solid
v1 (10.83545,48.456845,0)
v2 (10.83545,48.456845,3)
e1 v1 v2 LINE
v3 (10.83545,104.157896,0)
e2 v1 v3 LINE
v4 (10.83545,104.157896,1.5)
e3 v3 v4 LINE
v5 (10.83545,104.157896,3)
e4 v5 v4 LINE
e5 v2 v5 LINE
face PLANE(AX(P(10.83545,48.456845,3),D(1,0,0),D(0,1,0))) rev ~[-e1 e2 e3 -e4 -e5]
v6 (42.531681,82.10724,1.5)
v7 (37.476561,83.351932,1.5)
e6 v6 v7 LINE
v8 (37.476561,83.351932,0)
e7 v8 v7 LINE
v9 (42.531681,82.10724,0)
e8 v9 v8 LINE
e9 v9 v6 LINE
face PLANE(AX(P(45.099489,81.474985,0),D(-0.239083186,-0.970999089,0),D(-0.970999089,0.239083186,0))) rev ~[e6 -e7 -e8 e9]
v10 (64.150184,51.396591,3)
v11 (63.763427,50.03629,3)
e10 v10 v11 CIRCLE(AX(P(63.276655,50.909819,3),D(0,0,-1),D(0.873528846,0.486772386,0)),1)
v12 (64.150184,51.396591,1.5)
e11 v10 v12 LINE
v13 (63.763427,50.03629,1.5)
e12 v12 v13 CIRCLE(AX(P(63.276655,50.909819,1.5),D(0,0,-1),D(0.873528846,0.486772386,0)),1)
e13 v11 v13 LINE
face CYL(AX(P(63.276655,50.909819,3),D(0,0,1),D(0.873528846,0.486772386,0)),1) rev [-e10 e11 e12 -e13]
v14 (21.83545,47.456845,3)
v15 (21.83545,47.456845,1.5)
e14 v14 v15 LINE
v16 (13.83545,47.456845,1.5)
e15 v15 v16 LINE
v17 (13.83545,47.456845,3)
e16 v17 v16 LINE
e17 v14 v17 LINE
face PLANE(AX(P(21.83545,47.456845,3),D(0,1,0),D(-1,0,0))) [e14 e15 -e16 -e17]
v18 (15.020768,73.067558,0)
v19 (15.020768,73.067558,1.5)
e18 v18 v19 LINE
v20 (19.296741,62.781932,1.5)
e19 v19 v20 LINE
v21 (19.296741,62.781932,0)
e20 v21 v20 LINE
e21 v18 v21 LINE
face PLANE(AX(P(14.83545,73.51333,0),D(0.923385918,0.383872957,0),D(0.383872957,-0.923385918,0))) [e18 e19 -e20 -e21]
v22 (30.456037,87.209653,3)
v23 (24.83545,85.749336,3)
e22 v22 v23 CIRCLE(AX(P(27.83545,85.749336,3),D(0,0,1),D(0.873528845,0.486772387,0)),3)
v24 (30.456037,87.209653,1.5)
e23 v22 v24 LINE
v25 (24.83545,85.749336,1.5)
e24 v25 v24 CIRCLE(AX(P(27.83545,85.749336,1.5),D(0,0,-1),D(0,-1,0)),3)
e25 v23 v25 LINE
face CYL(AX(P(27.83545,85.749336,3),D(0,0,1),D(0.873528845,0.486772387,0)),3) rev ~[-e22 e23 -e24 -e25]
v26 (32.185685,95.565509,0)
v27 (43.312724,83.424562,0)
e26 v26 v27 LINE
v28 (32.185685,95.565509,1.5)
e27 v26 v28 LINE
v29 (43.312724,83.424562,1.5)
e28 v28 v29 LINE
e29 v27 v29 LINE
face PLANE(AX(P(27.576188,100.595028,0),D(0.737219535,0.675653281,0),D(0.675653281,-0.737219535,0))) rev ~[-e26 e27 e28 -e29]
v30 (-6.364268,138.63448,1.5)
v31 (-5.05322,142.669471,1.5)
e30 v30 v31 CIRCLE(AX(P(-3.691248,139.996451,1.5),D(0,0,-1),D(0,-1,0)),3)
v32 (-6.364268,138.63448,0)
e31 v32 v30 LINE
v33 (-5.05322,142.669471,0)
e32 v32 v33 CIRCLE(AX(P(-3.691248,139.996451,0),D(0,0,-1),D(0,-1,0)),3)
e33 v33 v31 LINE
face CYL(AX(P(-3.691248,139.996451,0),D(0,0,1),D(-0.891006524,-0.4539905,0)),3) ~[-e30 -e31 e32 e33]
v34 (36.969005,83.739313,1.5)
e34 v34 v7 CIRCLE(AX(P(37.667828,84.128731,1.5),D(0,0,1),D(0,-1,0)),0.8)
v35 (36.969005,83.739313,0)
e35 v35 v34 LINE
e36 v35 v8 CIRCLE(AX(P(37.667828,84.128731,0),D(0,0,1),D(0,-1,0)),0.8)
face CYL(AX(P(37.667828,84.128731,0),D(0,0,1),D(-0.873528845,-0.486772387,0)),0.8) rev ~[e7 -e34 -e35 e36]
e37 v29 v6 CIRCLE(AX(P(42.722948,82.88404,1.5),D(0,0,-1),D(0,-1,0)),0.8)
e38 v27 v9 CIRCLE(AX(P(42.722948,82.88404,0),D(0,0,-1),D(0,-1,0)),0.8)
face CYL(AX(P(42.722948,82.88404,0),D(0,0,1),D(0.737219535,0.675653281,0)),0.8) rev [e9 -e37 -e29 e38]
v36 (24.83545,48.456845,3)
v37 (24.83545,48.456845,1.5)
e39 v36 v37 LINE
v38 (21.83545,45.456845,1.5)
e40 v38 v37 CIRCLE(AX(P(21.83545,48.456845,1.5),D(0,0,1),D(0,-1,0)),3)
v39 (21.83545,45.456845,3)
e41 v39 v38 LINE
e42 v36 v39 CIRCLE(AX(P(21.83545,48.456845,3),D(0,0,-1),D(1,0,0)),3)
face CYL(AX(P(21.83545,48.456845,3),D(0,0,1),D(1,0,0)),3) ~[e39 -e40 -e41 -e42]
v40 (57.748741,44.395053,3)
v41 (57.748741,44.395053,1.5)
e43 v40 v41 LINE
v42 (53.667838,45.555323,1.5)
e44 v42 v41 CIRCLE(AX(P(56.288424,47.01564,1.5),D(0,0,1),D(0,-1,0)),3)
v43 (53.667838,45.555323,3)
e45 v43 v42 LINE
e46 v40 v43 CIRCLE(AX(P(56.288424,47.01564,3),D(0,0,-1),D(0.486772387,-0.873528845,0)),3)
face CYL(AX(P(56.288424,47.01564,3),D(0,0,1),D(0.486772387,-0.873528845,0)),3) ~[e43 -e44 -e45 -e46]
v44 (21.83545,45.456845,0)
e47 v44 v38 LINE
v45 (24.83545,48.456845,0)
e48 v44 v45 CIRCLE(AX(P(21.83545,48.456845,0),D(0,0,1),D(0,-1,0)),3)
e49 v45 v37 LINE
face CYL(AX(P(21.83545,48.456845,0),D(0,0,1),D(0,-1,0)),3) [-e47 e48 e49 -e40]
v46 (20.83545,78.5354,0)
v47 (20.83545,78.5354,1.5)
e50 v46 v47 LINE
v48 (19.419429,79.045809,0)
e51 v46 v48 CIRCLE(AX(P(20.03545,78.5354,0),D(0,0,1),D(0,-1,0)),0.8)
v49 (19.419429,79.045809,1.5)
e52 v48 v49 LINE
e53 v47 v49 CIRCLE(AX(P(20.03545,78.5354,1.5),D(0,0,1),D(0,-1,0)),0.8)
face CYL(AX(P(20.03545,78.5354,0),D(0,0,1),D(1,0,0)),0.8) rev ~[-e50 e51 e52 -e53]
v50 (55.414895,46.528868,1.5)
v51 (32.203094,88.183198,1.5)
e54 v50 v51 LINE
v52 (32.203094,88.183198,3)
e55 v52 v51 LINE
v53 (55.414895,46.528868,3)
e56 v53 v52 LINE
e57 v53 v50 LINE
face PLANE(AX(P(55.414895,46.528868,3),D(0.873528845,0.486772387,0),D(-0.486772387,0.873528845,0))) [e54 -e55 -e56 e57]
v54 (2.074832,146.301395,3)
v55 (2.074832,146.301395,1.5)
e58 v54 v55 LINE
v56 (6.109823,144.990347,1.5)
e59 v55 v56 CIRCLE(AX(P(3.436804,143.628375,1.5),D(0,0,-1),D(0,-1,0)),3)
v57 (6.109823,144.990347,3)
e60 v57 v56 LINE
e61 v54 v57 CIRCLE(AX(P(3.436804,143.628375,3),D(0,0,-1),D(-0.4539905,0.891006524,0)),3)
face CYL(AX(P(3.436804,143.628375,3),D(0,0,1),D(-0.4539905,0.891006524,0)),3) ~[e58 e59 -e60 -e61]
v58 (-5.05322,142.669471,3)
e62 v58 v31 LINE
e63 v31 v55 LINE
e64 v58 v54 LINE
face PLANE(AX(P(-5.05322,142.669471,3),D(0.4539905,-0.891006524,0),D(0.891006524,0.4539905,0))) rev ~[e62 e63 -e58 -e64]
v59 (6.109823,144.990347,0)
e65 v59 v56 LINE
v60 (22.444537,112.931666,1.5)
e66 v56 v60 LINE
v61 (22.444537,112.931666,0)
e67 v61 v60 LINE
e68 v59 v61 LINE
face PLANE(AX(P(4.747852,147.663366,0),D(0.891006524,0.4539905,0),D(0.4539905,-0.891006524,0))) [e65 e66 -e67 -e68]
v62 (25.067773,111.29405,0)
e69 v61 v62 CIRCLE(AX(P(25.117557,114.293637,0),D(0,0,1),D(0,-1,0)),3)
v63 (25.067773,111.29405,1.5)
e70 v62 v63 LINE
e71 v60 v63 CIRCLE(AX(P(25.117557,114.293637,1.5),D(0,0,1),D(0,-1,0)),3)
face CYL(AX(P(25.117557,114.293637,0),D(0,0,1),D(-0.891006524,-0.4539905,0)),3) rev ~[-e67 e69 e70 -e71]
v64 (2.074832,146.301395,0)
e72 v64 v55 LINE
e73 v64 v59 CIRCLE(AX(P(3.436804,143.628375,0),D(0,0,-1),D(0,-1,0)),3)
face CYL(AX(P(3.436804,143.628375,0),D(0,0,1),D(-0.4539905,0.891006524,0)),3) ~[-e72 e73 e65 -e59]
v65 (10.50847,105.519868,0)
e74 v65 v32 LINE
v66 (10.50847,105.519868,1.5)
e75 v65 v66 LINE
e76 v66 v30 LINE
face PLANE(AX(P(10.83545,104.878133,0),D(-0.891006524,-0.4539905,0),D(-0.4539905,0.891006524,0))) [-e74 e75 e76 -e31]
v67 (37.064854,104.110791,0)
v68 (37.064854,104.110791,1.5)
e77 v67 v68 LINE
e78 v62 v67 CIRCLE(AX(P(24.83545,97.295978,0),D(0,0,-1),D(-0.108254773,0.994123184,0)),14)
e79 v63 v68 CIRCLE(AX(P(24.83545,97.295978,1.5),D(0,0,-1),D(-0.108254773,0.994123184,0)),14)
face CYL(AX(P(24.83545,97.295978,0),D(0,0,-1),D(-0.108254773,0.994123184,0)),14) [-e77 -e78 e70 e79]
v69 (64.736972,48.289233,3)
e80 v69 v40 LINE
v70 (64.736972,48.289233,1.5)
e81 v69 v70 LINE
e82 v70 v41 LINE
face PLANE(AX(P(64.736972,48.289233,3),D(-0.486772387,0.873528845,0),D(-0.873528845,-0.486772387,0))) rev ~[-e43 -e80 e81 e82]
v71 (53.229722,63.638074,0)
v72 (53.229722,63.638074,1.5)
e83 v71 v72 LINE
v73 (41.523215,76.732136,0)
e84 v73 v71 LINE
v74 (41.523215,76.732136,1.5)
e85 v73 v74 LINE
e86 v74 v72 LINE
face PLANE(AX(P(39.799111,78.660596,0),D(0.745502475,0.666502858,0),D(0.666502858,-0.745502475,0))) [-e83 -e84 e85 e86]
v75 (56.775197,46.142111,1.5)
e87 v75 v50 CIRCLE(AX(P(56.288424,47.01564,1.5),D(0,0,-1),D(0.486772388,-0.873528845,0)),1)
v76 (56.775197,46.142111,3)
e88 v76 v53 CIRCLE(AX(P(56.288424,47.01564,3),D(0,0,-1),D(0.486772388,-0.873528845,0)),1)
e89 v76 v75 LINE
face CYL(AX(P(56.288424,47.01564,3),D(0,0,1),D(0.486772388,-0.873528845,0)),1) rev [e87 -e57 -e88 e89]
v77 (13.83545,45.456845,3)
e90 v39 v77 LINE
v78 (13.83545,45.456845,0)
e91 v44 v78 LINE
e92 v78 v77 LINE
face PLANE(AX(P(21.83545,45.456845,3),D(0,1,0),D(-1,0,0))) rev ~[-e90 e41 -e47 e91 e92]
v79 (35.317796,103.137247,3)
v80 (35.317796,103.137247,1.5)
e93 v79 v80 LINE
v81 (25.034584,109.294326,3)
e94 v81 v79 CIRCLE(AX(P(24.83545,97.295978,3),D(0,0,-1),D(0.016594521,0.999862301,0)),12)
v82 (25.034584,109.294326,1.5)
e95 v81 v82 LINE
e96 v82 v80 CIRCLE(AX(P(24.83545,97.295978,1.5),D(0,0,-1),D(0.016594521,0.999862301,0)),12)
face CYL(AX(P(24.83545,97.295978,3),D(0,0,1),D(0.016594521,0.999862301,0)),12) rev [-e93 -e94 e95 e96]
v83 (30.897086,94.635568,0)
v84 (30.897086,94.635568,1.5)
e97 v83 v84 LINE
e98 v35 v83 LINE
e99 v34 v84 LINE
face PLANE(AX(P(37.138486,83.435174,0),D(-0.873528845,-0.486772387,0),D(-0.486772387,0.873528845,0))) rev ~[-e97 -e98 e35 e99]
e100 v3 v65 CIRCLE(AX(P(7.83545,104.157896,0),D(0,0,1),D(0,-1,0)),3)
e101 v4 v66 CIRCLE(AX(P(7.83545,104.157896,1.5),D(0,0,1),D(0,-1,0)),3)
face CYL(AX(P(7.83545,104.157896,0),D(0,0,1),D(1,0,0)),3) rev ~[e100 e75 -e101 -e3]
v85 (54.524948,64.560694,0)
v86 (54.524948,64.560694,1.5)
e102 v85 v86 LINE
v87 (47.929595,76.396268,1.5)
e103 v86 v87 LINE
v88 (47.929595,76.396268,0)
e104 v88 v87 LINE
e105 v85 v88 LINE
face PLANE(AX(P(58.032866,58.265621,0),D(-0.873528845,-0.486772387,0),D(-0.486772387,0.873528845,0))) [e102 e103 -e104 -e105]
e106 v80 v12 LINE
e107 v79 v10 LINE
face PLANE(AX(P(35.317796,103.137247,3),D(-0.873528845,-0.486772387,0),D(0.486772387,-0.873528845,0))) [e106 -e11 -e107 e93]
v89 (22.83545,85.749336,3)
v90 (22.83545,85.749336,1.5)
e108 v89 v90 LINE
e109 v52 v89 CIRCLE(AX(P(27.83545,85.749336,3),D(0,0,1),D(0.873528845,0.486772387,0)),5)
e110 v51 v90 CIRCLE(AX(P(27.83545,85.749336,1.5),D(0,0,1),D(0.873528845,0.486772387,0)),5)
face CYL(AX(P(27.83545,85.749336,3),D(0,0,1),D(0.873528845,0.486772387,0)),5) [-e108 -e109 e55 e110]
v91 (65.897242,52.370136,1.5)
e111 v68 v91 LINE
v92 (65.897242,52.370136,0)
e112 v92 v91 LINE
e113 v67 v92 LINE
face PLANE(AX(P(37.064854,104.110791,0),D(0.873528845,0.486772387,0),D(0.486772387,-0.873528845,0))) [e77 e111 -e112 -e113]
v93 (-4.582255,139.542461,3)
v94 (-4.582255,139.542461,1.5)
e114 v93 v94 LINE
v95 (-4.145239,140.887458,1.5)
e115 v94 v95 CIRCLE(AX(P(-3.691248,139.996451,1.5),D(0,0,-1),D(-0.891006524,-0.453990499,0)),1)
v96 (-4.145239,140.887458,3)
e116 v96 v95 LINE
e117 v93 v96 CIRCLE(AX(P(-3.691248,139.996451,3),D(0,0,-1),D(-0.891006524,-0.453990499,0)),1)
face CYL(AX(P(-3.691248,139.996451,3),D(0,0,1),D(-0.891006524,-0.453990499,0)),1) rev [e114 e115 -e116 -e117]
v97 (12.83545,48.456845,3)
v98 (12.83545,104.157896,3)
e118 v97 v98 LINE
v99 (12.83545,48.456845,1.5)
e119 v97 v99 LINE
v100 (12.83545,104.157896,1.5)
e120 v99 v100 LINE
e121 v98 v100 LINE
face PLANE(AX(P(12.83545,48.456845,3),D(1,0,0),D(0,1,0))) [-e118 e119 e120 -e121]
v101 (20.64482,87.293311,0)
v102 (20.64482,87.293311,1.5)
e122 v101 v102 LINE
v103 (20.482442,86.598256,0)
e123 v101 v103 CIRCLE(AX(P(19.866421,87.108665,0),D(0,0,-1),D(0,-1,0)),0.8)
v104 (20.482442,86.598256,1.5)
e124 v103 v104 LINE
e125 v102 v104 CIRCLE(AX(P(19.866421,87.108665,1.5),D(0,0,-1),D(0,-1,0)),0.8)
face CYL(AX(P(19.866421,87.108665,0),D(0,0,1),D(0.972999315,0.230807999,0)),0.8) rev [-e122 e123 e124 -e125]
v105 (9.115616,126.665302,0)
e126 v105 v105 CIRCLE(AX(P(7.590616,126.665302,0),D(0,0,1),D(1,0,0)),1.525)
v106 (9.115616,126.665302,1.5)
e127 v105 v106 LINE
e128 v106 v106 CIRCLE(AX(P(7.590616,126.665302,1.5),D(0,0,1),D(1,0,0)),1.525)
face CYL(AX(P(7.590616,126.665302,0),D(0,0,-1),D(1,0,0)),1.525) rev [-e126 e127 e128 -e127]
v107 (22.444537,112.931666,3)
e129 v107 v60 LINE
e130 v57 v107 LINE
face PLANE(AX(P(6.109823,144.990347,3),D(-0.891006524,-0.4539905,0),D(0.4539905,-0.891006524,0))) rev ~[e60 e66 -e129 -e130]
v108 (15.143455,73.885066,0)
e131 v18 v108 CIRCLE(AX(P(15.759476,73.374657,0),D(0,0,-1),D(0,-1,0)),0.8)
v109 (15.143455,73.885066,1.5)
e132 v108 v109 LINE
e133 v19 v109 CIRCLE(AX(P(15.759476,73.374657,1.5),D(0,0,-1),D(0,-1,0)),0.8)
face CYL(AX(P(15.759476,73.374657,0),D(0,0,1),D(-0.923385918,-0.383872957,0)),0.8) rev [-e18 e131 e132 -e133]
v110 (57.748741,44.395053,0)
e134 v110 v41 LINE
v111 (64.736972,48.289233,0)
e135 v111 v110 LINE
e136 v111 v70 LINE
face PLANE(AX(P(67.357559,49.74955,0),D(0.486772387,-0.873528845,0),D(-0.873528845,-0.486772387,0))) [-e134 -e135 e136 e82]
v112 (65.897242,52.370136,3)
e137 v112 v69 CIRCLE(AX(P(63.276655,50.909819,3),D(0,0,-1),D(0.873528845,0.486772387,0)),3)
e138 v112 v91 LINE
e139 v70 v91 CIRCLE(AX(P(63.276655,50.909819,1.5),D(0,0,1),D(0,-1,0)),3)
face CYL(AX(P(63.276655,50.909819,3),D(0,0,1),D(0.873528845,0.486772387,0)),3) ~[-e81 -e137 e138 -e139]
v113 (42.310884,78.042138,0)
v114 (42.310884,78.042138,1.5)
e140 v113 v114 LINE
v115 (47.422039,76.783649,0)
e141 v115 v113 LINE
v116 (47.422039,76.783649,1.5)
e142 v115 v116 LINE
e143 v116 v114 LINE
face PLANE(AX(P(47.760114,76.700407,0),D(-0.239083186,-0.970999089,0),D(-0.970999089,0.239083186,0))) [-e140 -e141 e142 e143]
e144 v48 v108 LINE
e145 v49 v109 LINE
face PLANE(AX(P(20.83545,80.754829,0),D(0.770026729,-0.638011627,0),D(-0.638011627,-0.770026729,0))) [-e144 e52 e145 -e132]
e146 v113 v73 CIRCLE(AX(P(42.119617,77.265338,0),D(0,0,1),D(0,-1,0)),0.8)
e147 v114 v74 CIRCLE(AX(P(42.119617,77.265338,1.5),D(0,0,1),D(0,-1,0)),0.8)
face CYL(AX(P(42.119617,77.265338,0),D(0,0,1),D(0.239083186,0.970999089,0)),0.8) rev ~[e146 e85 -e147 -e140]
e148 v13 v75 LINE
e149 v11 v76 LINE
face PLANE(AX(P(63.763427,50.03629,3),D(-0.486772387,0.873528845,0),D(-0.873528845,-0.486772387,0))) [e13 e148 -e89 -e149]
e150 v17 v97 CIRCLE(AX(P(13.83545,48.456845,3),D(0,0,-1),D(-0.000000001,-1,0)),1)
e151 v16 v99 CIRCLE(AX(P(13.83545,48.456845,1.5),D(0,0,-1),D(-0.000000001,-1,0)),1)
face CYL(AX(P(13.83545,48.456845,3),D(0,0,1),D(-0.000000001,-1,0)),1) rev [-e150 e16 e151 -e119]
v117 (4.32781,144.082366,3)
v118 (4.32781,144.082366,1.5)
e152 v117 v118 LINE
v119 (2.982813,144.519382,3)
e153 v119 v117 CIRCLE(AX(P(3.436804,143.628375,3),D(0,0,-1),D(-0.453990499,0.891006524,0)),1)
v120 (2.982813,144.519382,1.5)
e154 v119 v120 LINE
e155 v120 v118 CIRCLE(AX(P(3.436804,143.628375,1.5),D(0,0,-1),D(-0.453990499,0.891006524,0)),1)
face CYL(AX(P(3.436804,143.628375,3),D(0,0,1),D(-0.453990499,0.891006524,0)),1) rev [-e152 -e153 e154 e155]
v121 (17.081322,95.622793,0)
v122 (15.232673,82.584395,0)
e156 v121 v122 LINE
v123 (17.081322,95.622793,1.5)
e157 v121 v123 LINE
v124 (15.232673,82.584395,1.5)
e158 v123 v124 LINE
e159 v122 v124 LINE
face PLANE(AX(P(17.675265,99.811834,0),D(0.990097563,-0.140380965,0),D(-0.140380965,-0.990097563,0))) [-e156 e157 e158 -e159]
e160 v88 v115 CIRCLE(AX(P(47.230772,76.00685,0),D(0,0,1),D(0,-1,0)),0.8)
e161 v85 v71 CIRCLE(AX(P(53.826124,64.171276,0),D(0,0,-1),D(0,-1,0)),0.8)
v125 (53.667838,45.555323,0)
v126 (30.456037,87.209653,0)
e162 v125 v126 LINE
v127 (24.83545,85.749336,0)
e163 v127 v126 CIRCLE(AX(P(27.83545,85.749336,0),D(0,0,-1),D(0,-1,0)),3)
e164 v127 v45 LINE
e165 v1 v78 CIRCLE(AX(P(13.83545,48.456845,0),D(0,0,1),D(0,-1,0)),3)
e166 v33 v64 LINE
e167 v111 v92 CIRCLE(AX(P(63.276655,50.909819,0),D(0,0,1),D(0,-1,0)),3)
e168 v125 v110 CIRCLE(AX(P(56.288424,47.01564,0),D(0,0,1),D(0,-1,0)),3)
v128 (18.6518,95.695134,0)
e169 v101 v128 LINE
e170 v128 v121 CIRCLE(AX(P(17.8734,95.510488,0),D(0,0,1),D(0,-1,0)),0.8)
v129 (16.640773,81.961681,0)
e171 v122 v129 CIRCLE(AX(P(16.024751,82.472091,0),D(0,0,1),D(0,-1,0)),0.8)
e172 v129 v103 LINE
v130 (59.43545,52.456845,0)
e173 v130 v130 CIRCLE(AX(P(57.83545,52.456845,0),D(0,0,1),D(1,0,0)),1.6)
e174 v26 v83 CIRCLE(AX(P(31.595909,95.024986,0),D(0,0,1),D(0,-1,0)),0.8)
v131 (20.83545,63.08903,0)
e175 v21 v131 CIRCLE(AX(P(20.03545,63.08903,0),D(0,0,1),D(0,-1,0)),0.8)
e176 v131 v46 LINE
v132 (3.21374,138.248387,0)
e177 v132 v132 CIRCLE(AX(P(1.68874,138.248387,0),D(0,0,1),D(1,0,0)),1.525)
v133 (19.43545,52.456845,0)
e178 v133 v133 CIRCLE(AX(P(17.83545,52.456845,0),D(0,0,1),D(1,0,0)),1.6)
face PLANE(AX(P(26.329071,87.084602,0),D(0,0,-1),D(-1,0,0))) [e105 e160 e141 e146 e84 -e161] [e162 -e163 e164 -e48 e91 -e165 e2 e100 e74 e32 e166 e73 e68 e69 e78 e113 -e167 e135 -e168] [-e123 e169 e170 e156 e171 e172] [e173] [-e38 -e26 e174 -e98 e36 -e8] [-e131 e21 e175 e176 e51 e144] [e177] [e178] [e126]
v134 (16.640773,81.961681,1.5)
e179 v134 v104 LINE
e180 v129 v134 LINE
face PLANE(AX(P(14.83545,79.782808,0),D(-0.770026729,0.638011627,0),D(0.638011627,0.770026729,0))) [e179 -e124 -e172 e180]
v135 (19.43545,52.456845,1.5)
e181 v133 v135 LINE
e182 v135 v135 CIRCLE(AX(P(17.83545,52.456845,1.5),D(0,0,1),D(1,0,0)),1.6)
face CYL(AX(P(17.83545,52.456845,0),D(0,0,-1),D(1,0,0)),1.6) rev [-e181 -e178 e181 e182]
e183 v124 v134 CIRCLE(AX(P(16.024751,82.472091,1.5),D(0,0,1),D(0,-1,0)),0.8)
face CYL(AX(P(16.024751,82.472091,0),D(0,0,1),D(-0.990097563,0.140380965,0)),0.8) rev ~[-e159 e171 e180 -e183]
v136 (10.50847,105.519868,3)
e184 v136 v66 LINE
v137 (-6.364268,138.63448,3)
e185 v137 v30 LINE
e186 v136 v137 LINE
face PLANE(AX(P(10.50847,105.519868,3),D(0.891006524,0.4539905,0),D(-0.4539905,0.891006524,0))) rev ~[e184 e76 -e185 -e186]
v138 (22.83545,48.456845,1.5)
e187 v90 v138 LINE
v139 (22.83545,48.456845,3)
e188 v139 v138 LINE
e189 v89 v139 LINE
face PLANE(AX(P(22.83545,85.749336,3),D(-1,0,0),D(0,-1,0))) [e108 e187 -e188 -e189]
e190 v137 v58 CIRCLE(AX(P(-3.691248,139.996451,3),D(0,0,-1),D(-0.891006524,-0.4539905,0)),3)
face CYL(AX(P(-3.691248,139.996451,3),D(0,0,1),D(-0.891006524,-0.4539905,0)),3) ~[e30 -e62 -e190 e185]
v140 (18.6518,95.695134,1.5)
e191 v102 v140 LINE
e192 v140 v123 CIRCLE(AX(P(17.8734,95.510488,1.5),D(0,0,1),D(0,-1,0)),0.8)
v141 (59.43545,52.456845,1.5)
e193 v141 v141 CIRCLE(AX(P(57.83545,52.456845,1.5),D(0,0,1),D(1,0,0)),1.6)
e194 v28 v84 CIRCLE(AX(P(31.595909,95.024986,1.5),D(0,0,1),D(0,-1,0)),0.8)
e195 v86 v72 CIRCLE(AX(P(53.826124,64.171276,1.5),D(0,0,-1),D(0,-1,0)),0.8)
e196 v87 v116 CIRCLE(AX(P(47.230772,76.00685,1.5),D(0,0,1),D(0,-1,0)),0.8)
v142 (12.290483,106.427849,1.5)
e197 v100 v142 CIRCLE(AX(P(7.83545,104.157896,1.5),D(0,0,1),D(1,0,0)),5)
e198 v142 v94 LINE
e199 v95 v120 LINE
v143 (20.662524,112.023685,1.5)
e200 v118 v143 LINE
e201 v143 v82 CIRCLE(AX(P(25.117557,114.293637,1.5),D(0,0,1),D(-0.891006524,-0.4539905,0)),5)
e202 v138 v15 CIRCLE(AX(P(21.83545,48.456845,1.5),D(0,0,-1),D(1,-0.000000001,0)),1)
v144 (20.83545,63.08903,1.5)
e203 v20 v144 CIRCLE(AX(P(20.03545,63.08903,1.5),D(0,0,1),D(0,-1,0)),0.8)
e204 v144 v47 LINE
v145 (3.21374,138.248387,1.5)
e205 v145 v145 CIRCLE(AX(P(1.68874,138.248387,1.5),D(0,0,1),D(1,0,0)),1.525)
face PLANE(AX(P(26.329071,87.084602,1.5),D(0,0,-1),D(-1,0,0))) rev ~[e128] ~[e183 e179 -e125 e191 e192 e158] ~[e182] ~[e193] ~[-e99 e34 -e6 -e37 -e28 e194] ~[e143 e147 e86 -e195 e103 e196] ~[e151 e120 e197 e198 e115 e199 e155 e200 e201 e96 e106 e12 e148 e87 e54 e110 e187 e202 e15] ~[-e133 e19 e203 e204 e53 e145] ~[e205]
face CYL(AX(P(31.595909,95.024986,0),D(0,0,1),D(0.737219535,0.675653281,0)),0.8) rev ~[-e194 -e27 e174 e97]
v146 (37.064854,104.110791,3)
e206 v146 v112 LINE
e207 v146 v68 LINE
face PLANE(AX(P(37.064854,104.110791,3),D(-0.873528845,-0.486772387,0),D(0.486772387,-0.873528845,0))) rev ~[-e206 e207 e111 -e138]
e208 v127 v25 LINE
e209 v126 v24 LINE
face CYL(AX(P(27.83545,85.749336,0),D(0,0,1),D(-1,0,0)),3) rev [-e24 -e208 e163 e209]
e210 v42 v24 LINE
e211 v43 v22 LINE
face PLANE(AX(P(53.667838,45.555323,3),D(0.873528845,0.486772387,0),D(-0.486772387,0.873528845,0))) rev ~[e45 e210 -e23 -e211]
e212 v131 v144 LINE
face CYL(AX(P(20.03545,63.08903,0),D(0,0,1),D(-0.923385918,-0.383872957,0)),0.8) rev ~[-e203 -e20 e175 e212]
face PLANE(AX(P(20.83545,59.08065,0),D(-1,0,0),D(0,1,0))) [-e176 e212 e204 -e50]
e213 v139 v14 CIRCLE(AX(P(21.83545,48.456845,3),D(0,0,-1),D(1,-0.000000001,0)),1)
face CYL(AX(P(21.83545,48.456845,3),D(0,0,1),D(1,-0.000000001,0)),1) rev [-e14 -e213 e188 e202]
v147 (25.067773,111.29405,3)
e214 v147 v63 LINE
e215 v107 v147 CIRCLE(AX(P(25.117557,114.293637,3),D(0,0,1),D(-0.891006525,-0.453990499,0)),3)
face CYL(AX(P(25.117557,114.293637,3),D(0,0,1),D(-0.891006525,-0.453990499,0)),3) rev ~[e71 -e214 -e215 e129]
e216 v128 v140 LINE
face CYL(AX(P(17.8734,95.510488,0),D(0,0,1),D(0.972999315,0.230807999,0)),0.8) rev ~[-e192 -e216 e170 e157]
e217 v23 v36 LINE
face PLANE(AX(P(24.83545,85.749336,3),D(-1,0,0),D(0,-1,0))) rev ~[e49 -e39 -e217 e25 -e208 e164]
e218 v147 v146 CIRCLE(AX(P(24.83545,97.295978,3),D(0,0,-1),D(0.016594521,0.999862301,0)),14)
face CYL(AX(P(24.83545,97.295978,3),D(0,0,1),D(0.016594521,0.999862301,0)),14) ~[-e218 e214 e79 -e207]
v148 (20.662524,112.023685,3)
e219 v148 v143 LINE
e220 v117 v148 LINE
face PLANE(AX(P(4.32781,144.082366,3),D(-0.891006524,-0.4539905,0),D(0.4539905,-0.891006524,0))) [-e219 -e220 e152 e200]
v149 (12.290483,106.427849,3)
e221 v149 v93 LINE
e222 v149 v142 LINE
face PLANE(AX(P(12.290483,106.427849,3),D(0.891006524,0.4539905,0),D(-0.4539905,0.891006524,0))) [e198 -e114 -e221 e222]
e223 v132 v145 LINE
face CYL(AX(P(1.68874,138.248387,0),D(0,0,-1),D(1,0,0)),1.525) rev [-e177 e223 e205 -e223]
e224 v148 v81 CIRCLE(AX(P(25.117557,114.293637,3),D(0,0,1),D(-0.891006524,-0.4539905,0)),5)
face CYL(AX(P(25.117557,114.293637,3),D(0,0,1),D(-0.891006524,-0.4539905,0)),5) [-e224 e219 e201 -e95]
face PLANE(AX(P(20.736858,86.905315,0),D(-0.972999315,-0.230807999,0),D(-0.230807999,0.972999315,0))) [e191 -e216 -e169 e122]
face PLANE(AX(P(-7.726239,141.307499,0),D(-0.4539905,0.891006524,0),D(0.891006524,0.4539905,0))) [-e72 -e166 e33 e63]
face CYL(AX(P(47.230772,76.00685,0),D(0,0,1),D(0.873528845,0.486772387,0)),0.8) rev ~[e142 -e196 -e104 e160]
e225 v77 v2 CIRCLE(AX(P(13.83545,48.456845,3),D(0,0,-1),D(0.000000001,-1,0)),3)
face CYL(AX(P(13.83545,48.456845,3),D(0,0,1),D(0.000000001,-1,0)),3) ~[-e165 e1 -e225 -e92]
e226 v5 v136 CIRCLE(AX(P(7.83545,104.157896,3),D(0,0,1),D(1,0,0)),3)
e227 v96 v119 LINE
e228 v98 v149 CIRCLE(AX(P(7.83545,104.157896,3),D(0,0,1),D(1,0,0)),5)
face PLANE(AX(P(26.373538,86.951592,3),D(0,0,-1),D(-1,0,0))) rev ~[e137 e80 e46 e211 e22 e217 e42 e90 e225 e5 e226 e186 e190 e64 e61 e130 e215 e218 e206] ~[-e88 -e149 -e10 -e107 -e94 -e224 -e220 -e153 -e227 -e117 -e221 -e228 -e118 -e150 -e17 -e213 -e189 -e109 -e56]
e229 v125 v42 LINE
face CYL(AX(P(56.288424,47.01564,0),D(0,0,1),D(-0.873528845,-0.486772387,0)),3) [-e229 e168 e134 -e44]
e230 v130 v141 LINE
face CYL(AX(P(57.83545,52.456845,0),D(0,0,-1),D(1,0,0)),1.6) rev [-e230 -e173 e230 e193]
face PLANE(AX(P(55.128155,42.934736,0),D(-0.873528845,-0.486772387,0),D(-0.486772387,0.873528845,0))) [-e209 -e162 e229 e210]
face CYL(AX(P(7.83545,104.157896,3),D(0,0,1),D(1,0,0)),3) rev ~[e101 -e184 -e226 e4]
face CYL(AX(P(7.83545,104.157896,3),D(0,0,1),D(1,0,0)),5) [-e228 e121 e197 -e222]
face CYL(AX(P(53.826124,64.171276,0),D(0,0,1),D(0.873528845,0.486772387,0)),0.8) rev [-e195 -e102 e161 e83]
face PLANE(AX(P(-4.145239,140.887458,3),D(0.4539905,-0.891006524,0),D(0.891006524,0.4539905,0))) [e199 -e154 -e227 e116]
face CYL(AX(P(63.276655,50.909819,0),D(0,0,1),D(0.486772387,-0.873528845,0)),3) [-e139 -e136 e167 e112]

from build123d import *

# Parameters (mm, degrees)
SCHIZZO2_R                   = 1.6
SCHIZZO2_R_2                 = 1.525
ESTRUSIONE_ESTRUSIONE1_DEPTH = 1.5
RACCORDO1_R                  = 3
TAGLIO_ESTRUSIONE1_DEPTH     = 161.918381387
ESTRUSIONE_ESTRUSIONE2_START = -1.5
ESTRUSIONE_ESTRUSIONE2_DEPTH = 1.5
RACCORDO2_R                  = 0.8


with BuildPart() as part:
    # Schizzo2 → Estrusione-Estrusione1 (new body)
    with BuildSketch(Plane.XY):
        with BuildLine():
            Line((10.835450111, 45.456844872), (10.835450111, 104.878132603))
            Line((10.835450111, 104.878132603), (-7.726239407, 141.30749945))
            Line((-7.726239407, 141.30749945), (4.747851932, 147.663366447))
            Line((4.747851932, 147.663366447), (23.319883285, 111.213702604))
            ThreePointArc((23.319883285, 111.213702604), (31.262689996, 109.733445118), (37.064853942, 104.110791454))
            Line((37.064853942, 104.110791454), (67.357558736, 49.749549666))
            Line((67.357558736, 49.749549666), (55.128154906, 42.934736247))
            Line((55.128154906, 42.934736247), (24.835450111, 97.295978034))
            Line((24.835450111, 97.295978034), (24.835450111, 45.456844872))
            Line((24.835450111, 45.456844872), (10.835450111, 45.456844872))
        make_face()
        with Locations((17.835450111, 52.456844872)):
            Circle(SCHIZZO2_R, mode=Mode.SUBTRACT)
        with Locations((57.835450111, 52.456844872)):
            Circle(SCHIZZO2_R, mode=Mode.SUBTRACT)
        with Locations((1.688739761, 138.248387279)):
            Circle(SCHIZZO2_R_2, mode=Mode.SUBTRACT)
        with Locations((7.590616257, 126.665302465)):
            Circle(SCHIZZO2_R_2, mode=Mode.SUBTRACT)
    extrude(amount=ESTRUSIONE_ESTRUSIONE1_DEPTH)

    # Raccordo1
    raccordo1_edges = [part.edges().sort_by_distance(p)[0] for p in [
        (10.835450111, 45.456844872, 0.75),
        (10.835450111, 104.878132603, 0.75),
        (-7.726239407, 141.30749945, 0.75),
        (4.747851932, 147.663366447, 0.75),
        (23.319883285, 111.213702604, 0.75),
        (67.357558736, 49.749549666, 0.75),
        (55.128154906, 42.934736247, 0.75),
        (24.835450111, 97.295978034, 0.75),
        (24.835450111, 45.456844872, 0.75),
    ]]
    fillet(raccordo1_edges, radius=RACCORDO1_R)

    # Schizzo3 → Taglio-Estrusione1 (cut, through all)
    with BuildSketch(Plane(origin=(0, 0, 0), x_dir=(-1, 0, 0), z_dir=(0, 0, -1))):
        Polygon((-58.032865762, 58.26562082), (-47.760114135, 76.700406977), (-39.799110822, 78.660596286), align=None)
        Polygon((-45.099489196, 81.47498477), (-37.138485884, 83.435174078), (-27.576187875, 100.595028163), align=None)
        Polygon((-14.835450111, 73.513329832), (-20.835450111, 59.080649935), (-20.835450111, 80.754828538), align=None)
        Polygon((-20.736858212, 86.90531457), (-17.675265193, 99.811833972), (-14.835450111, 79.782808049), align=None)
    extrude(amount=-TAGLIO_ESTRUSIONE1_DEPTH, mode=Mode.SUBTRACT)

    # Schizzo4 → Estrusione-Estrusione2 (add)
    with BuildSketch(Plane(origin=(0, 0, 1.5), x_dir=(-1, 0, 0), z_dir=(0, 0, -1)).offset(ESTRUSIONE_ESTRUSIONE2_START)):
        with BuildLine():
            Line((5.053219834, 142.669470949), (-2.074832359, 146.301394947))
            ThreePointArc((-2.074832359, 146.301394947), (-4.363854842, 146.481544924), (-6.109823431, 144.990346874))
            Line((-6.109823431, 144.990346874), (-22.444537387, 112.93166566))
            ThreePointArc((-22.444537387, 112.93166566), (-23.528890764, 111.74881109), (-25.067773398, 111.294050255))
            ThreePointArc((-25.067773398, 111.294050255), (-32.027352671, 109.307494906), (-37.064853942, 104.110791454))
            Line((-37.064853942, 104.110791454), (-65.897241575, 52.370136202))
            ThreePointArc((-65.897241575, 52.370136202), (-66.162289717, 50.089384698), (-64.736972201, 48.289232505))
            Line((-64.736972201, 48.289232505), (-57.748741441, 44.395053408))
            ThreePointArc((-57.748741441, 44.395053408), (-55.467989937, 44.130005266), (-53.667837744, 45.555322782))
            Line((-53.667837744, 45.555322782), (-30.456036646, 87.209653102))
            ThreePointArc((-30.456036646, 87.209653102), (-27.081049556, 88.652933675), (-24.835450111, 85.749335941))
            Line((-24.835450111, 85.749335941), (-24.835450111, 48.456844872))
            ThreePointArc((-24.835450111, 48.456844872), (-23.956770454, 46.335524528), (-21.835450111, 45.456844872))
            Line((-21.835450111, 45.456844872), (-13.835450111, 45.456844872))
            ThreePointArc((-13.835450111, 45.456844872), (-11.714129767, 46.335524528), (-10.835450111, 48.456844872))
            Line((-10.835450111, 48.456844872), (-10.835450111, 104.157896326))
            ThreePointArc((-10.835450111, 104.157896326), (-10.752559872, 104.858232417), (-10.508469683, 105.519867825))
            Line((-10.508469683, 105.519867825), (6.364267908, 138.634479878))
            ThreePointArc((6.364267908, 138.634479878), (6.544417884, 140.92350236), (5.053219834, 142.669470949))
        make_face()
        with BuildLine():
            Line((-35.317796251, 103.13724668), (-64.150183885, 51.396591427))
            ThreePointArc((-64.150183885, 51.396591427), (-64.238533265, 50.636340926), (-63.763427427, 50.036290195))
            Line((-63.763427427, 50.036290195), (-56.775196666, 46.142111098))
            ThreePointArc((-56.775196666, 46.142111098), (-56.014946165, 46.053761717), (-55.414895434, 46.528867556))
            Line((-55.414895434, 46.528867556), (-32.203094336, 88.183197876))
            ThreePointArc((-32.203094336, 88.183197876), (-26.578115853, 90.588665498), (-22.835450111, 85.749335941))
            Line((-22.835450111, 85.749335941), (-22.835450111, 48.456844872))
            ThreePointArc((-22.835450111, 48.456844872), (-22.542556892, 47.749738091), (-21.835450111, 47.456844872))
            Line((-21.835450111, 47.456844872), (-13.835450111, 47.456844872))
            ThreePointArc((-13.835450111, 47.456844872), (-13.12834333, 47.749738091), (-12.835450111, 48.456844872))
            Line((-12.835450111, 48.456844872), (-12.835450111, 104.157896326))
            ThreePointArc((-12.835450111, 104.157896326), (-12.697299713, 105.325123145), (-12.290482732, 106.427848824))
            Line((-12.290482732, 106.427848824), (4.582254859, 139.542460877))
            ThreePointArc((4.582254859, 139.542460877), (4.642304851, 140.305468371), (4.145238835, 140.887457901))
            Line((4.145238835, 140.887457901), (-2.982813359, 144.519381899))
            ThreePointArc((-2.982813359, 144.519381899), (-3.745820853, 144.579431891), (-4.327810383, 144.082365875))
            Line((-4.327810383, 144.082365875), (-20.662524339, 112.02368466))
            ThreePointArc((-20.662524339, 112.02368466), (-22.469779967, 110.052260378), (-25.034584357, 109.294325652))
            ThreePointArc((-25.034584357, 109.294325652), (-30.99993802, 107.591563924), (-35.317796251, 103.13724668))
        make_face(mode=Mode.SUBTRACT)
    extrude(amount=ESTRUSIONE_ESTRUSIONE2_DEPTH)

    # Raccordo2
    raccordo2_edges = [part.edges().sort_by_distance(p)[0] for p in [
        (39.799110822, 78.660596286, 0.75),
        (58.032865762, 58.26562082, 0.75),
        (47.760114135, 76.700406977, 0.75),
        (45.099489196, 81.47498477, 0.75),
        (27.576187875, 100.595028163, 0.75),
        (37.138485884, 83.435174078, 0.75),
        (20.835450111, 80.754828538, 0.75),
        (14.835450111, 73.513329832, 0.75),
        (20.835450111, 59.080649935, 0.75),
        (14.835450111, 79.782808049, 0.75),
        (20.736858212, 86.90531457, 0.75),
        (17.675265193, 99.811833972, 0.75),
    ]]
    fillet(raccordo2_edges, radius=RACCORDO2_R)


solid = part.part
